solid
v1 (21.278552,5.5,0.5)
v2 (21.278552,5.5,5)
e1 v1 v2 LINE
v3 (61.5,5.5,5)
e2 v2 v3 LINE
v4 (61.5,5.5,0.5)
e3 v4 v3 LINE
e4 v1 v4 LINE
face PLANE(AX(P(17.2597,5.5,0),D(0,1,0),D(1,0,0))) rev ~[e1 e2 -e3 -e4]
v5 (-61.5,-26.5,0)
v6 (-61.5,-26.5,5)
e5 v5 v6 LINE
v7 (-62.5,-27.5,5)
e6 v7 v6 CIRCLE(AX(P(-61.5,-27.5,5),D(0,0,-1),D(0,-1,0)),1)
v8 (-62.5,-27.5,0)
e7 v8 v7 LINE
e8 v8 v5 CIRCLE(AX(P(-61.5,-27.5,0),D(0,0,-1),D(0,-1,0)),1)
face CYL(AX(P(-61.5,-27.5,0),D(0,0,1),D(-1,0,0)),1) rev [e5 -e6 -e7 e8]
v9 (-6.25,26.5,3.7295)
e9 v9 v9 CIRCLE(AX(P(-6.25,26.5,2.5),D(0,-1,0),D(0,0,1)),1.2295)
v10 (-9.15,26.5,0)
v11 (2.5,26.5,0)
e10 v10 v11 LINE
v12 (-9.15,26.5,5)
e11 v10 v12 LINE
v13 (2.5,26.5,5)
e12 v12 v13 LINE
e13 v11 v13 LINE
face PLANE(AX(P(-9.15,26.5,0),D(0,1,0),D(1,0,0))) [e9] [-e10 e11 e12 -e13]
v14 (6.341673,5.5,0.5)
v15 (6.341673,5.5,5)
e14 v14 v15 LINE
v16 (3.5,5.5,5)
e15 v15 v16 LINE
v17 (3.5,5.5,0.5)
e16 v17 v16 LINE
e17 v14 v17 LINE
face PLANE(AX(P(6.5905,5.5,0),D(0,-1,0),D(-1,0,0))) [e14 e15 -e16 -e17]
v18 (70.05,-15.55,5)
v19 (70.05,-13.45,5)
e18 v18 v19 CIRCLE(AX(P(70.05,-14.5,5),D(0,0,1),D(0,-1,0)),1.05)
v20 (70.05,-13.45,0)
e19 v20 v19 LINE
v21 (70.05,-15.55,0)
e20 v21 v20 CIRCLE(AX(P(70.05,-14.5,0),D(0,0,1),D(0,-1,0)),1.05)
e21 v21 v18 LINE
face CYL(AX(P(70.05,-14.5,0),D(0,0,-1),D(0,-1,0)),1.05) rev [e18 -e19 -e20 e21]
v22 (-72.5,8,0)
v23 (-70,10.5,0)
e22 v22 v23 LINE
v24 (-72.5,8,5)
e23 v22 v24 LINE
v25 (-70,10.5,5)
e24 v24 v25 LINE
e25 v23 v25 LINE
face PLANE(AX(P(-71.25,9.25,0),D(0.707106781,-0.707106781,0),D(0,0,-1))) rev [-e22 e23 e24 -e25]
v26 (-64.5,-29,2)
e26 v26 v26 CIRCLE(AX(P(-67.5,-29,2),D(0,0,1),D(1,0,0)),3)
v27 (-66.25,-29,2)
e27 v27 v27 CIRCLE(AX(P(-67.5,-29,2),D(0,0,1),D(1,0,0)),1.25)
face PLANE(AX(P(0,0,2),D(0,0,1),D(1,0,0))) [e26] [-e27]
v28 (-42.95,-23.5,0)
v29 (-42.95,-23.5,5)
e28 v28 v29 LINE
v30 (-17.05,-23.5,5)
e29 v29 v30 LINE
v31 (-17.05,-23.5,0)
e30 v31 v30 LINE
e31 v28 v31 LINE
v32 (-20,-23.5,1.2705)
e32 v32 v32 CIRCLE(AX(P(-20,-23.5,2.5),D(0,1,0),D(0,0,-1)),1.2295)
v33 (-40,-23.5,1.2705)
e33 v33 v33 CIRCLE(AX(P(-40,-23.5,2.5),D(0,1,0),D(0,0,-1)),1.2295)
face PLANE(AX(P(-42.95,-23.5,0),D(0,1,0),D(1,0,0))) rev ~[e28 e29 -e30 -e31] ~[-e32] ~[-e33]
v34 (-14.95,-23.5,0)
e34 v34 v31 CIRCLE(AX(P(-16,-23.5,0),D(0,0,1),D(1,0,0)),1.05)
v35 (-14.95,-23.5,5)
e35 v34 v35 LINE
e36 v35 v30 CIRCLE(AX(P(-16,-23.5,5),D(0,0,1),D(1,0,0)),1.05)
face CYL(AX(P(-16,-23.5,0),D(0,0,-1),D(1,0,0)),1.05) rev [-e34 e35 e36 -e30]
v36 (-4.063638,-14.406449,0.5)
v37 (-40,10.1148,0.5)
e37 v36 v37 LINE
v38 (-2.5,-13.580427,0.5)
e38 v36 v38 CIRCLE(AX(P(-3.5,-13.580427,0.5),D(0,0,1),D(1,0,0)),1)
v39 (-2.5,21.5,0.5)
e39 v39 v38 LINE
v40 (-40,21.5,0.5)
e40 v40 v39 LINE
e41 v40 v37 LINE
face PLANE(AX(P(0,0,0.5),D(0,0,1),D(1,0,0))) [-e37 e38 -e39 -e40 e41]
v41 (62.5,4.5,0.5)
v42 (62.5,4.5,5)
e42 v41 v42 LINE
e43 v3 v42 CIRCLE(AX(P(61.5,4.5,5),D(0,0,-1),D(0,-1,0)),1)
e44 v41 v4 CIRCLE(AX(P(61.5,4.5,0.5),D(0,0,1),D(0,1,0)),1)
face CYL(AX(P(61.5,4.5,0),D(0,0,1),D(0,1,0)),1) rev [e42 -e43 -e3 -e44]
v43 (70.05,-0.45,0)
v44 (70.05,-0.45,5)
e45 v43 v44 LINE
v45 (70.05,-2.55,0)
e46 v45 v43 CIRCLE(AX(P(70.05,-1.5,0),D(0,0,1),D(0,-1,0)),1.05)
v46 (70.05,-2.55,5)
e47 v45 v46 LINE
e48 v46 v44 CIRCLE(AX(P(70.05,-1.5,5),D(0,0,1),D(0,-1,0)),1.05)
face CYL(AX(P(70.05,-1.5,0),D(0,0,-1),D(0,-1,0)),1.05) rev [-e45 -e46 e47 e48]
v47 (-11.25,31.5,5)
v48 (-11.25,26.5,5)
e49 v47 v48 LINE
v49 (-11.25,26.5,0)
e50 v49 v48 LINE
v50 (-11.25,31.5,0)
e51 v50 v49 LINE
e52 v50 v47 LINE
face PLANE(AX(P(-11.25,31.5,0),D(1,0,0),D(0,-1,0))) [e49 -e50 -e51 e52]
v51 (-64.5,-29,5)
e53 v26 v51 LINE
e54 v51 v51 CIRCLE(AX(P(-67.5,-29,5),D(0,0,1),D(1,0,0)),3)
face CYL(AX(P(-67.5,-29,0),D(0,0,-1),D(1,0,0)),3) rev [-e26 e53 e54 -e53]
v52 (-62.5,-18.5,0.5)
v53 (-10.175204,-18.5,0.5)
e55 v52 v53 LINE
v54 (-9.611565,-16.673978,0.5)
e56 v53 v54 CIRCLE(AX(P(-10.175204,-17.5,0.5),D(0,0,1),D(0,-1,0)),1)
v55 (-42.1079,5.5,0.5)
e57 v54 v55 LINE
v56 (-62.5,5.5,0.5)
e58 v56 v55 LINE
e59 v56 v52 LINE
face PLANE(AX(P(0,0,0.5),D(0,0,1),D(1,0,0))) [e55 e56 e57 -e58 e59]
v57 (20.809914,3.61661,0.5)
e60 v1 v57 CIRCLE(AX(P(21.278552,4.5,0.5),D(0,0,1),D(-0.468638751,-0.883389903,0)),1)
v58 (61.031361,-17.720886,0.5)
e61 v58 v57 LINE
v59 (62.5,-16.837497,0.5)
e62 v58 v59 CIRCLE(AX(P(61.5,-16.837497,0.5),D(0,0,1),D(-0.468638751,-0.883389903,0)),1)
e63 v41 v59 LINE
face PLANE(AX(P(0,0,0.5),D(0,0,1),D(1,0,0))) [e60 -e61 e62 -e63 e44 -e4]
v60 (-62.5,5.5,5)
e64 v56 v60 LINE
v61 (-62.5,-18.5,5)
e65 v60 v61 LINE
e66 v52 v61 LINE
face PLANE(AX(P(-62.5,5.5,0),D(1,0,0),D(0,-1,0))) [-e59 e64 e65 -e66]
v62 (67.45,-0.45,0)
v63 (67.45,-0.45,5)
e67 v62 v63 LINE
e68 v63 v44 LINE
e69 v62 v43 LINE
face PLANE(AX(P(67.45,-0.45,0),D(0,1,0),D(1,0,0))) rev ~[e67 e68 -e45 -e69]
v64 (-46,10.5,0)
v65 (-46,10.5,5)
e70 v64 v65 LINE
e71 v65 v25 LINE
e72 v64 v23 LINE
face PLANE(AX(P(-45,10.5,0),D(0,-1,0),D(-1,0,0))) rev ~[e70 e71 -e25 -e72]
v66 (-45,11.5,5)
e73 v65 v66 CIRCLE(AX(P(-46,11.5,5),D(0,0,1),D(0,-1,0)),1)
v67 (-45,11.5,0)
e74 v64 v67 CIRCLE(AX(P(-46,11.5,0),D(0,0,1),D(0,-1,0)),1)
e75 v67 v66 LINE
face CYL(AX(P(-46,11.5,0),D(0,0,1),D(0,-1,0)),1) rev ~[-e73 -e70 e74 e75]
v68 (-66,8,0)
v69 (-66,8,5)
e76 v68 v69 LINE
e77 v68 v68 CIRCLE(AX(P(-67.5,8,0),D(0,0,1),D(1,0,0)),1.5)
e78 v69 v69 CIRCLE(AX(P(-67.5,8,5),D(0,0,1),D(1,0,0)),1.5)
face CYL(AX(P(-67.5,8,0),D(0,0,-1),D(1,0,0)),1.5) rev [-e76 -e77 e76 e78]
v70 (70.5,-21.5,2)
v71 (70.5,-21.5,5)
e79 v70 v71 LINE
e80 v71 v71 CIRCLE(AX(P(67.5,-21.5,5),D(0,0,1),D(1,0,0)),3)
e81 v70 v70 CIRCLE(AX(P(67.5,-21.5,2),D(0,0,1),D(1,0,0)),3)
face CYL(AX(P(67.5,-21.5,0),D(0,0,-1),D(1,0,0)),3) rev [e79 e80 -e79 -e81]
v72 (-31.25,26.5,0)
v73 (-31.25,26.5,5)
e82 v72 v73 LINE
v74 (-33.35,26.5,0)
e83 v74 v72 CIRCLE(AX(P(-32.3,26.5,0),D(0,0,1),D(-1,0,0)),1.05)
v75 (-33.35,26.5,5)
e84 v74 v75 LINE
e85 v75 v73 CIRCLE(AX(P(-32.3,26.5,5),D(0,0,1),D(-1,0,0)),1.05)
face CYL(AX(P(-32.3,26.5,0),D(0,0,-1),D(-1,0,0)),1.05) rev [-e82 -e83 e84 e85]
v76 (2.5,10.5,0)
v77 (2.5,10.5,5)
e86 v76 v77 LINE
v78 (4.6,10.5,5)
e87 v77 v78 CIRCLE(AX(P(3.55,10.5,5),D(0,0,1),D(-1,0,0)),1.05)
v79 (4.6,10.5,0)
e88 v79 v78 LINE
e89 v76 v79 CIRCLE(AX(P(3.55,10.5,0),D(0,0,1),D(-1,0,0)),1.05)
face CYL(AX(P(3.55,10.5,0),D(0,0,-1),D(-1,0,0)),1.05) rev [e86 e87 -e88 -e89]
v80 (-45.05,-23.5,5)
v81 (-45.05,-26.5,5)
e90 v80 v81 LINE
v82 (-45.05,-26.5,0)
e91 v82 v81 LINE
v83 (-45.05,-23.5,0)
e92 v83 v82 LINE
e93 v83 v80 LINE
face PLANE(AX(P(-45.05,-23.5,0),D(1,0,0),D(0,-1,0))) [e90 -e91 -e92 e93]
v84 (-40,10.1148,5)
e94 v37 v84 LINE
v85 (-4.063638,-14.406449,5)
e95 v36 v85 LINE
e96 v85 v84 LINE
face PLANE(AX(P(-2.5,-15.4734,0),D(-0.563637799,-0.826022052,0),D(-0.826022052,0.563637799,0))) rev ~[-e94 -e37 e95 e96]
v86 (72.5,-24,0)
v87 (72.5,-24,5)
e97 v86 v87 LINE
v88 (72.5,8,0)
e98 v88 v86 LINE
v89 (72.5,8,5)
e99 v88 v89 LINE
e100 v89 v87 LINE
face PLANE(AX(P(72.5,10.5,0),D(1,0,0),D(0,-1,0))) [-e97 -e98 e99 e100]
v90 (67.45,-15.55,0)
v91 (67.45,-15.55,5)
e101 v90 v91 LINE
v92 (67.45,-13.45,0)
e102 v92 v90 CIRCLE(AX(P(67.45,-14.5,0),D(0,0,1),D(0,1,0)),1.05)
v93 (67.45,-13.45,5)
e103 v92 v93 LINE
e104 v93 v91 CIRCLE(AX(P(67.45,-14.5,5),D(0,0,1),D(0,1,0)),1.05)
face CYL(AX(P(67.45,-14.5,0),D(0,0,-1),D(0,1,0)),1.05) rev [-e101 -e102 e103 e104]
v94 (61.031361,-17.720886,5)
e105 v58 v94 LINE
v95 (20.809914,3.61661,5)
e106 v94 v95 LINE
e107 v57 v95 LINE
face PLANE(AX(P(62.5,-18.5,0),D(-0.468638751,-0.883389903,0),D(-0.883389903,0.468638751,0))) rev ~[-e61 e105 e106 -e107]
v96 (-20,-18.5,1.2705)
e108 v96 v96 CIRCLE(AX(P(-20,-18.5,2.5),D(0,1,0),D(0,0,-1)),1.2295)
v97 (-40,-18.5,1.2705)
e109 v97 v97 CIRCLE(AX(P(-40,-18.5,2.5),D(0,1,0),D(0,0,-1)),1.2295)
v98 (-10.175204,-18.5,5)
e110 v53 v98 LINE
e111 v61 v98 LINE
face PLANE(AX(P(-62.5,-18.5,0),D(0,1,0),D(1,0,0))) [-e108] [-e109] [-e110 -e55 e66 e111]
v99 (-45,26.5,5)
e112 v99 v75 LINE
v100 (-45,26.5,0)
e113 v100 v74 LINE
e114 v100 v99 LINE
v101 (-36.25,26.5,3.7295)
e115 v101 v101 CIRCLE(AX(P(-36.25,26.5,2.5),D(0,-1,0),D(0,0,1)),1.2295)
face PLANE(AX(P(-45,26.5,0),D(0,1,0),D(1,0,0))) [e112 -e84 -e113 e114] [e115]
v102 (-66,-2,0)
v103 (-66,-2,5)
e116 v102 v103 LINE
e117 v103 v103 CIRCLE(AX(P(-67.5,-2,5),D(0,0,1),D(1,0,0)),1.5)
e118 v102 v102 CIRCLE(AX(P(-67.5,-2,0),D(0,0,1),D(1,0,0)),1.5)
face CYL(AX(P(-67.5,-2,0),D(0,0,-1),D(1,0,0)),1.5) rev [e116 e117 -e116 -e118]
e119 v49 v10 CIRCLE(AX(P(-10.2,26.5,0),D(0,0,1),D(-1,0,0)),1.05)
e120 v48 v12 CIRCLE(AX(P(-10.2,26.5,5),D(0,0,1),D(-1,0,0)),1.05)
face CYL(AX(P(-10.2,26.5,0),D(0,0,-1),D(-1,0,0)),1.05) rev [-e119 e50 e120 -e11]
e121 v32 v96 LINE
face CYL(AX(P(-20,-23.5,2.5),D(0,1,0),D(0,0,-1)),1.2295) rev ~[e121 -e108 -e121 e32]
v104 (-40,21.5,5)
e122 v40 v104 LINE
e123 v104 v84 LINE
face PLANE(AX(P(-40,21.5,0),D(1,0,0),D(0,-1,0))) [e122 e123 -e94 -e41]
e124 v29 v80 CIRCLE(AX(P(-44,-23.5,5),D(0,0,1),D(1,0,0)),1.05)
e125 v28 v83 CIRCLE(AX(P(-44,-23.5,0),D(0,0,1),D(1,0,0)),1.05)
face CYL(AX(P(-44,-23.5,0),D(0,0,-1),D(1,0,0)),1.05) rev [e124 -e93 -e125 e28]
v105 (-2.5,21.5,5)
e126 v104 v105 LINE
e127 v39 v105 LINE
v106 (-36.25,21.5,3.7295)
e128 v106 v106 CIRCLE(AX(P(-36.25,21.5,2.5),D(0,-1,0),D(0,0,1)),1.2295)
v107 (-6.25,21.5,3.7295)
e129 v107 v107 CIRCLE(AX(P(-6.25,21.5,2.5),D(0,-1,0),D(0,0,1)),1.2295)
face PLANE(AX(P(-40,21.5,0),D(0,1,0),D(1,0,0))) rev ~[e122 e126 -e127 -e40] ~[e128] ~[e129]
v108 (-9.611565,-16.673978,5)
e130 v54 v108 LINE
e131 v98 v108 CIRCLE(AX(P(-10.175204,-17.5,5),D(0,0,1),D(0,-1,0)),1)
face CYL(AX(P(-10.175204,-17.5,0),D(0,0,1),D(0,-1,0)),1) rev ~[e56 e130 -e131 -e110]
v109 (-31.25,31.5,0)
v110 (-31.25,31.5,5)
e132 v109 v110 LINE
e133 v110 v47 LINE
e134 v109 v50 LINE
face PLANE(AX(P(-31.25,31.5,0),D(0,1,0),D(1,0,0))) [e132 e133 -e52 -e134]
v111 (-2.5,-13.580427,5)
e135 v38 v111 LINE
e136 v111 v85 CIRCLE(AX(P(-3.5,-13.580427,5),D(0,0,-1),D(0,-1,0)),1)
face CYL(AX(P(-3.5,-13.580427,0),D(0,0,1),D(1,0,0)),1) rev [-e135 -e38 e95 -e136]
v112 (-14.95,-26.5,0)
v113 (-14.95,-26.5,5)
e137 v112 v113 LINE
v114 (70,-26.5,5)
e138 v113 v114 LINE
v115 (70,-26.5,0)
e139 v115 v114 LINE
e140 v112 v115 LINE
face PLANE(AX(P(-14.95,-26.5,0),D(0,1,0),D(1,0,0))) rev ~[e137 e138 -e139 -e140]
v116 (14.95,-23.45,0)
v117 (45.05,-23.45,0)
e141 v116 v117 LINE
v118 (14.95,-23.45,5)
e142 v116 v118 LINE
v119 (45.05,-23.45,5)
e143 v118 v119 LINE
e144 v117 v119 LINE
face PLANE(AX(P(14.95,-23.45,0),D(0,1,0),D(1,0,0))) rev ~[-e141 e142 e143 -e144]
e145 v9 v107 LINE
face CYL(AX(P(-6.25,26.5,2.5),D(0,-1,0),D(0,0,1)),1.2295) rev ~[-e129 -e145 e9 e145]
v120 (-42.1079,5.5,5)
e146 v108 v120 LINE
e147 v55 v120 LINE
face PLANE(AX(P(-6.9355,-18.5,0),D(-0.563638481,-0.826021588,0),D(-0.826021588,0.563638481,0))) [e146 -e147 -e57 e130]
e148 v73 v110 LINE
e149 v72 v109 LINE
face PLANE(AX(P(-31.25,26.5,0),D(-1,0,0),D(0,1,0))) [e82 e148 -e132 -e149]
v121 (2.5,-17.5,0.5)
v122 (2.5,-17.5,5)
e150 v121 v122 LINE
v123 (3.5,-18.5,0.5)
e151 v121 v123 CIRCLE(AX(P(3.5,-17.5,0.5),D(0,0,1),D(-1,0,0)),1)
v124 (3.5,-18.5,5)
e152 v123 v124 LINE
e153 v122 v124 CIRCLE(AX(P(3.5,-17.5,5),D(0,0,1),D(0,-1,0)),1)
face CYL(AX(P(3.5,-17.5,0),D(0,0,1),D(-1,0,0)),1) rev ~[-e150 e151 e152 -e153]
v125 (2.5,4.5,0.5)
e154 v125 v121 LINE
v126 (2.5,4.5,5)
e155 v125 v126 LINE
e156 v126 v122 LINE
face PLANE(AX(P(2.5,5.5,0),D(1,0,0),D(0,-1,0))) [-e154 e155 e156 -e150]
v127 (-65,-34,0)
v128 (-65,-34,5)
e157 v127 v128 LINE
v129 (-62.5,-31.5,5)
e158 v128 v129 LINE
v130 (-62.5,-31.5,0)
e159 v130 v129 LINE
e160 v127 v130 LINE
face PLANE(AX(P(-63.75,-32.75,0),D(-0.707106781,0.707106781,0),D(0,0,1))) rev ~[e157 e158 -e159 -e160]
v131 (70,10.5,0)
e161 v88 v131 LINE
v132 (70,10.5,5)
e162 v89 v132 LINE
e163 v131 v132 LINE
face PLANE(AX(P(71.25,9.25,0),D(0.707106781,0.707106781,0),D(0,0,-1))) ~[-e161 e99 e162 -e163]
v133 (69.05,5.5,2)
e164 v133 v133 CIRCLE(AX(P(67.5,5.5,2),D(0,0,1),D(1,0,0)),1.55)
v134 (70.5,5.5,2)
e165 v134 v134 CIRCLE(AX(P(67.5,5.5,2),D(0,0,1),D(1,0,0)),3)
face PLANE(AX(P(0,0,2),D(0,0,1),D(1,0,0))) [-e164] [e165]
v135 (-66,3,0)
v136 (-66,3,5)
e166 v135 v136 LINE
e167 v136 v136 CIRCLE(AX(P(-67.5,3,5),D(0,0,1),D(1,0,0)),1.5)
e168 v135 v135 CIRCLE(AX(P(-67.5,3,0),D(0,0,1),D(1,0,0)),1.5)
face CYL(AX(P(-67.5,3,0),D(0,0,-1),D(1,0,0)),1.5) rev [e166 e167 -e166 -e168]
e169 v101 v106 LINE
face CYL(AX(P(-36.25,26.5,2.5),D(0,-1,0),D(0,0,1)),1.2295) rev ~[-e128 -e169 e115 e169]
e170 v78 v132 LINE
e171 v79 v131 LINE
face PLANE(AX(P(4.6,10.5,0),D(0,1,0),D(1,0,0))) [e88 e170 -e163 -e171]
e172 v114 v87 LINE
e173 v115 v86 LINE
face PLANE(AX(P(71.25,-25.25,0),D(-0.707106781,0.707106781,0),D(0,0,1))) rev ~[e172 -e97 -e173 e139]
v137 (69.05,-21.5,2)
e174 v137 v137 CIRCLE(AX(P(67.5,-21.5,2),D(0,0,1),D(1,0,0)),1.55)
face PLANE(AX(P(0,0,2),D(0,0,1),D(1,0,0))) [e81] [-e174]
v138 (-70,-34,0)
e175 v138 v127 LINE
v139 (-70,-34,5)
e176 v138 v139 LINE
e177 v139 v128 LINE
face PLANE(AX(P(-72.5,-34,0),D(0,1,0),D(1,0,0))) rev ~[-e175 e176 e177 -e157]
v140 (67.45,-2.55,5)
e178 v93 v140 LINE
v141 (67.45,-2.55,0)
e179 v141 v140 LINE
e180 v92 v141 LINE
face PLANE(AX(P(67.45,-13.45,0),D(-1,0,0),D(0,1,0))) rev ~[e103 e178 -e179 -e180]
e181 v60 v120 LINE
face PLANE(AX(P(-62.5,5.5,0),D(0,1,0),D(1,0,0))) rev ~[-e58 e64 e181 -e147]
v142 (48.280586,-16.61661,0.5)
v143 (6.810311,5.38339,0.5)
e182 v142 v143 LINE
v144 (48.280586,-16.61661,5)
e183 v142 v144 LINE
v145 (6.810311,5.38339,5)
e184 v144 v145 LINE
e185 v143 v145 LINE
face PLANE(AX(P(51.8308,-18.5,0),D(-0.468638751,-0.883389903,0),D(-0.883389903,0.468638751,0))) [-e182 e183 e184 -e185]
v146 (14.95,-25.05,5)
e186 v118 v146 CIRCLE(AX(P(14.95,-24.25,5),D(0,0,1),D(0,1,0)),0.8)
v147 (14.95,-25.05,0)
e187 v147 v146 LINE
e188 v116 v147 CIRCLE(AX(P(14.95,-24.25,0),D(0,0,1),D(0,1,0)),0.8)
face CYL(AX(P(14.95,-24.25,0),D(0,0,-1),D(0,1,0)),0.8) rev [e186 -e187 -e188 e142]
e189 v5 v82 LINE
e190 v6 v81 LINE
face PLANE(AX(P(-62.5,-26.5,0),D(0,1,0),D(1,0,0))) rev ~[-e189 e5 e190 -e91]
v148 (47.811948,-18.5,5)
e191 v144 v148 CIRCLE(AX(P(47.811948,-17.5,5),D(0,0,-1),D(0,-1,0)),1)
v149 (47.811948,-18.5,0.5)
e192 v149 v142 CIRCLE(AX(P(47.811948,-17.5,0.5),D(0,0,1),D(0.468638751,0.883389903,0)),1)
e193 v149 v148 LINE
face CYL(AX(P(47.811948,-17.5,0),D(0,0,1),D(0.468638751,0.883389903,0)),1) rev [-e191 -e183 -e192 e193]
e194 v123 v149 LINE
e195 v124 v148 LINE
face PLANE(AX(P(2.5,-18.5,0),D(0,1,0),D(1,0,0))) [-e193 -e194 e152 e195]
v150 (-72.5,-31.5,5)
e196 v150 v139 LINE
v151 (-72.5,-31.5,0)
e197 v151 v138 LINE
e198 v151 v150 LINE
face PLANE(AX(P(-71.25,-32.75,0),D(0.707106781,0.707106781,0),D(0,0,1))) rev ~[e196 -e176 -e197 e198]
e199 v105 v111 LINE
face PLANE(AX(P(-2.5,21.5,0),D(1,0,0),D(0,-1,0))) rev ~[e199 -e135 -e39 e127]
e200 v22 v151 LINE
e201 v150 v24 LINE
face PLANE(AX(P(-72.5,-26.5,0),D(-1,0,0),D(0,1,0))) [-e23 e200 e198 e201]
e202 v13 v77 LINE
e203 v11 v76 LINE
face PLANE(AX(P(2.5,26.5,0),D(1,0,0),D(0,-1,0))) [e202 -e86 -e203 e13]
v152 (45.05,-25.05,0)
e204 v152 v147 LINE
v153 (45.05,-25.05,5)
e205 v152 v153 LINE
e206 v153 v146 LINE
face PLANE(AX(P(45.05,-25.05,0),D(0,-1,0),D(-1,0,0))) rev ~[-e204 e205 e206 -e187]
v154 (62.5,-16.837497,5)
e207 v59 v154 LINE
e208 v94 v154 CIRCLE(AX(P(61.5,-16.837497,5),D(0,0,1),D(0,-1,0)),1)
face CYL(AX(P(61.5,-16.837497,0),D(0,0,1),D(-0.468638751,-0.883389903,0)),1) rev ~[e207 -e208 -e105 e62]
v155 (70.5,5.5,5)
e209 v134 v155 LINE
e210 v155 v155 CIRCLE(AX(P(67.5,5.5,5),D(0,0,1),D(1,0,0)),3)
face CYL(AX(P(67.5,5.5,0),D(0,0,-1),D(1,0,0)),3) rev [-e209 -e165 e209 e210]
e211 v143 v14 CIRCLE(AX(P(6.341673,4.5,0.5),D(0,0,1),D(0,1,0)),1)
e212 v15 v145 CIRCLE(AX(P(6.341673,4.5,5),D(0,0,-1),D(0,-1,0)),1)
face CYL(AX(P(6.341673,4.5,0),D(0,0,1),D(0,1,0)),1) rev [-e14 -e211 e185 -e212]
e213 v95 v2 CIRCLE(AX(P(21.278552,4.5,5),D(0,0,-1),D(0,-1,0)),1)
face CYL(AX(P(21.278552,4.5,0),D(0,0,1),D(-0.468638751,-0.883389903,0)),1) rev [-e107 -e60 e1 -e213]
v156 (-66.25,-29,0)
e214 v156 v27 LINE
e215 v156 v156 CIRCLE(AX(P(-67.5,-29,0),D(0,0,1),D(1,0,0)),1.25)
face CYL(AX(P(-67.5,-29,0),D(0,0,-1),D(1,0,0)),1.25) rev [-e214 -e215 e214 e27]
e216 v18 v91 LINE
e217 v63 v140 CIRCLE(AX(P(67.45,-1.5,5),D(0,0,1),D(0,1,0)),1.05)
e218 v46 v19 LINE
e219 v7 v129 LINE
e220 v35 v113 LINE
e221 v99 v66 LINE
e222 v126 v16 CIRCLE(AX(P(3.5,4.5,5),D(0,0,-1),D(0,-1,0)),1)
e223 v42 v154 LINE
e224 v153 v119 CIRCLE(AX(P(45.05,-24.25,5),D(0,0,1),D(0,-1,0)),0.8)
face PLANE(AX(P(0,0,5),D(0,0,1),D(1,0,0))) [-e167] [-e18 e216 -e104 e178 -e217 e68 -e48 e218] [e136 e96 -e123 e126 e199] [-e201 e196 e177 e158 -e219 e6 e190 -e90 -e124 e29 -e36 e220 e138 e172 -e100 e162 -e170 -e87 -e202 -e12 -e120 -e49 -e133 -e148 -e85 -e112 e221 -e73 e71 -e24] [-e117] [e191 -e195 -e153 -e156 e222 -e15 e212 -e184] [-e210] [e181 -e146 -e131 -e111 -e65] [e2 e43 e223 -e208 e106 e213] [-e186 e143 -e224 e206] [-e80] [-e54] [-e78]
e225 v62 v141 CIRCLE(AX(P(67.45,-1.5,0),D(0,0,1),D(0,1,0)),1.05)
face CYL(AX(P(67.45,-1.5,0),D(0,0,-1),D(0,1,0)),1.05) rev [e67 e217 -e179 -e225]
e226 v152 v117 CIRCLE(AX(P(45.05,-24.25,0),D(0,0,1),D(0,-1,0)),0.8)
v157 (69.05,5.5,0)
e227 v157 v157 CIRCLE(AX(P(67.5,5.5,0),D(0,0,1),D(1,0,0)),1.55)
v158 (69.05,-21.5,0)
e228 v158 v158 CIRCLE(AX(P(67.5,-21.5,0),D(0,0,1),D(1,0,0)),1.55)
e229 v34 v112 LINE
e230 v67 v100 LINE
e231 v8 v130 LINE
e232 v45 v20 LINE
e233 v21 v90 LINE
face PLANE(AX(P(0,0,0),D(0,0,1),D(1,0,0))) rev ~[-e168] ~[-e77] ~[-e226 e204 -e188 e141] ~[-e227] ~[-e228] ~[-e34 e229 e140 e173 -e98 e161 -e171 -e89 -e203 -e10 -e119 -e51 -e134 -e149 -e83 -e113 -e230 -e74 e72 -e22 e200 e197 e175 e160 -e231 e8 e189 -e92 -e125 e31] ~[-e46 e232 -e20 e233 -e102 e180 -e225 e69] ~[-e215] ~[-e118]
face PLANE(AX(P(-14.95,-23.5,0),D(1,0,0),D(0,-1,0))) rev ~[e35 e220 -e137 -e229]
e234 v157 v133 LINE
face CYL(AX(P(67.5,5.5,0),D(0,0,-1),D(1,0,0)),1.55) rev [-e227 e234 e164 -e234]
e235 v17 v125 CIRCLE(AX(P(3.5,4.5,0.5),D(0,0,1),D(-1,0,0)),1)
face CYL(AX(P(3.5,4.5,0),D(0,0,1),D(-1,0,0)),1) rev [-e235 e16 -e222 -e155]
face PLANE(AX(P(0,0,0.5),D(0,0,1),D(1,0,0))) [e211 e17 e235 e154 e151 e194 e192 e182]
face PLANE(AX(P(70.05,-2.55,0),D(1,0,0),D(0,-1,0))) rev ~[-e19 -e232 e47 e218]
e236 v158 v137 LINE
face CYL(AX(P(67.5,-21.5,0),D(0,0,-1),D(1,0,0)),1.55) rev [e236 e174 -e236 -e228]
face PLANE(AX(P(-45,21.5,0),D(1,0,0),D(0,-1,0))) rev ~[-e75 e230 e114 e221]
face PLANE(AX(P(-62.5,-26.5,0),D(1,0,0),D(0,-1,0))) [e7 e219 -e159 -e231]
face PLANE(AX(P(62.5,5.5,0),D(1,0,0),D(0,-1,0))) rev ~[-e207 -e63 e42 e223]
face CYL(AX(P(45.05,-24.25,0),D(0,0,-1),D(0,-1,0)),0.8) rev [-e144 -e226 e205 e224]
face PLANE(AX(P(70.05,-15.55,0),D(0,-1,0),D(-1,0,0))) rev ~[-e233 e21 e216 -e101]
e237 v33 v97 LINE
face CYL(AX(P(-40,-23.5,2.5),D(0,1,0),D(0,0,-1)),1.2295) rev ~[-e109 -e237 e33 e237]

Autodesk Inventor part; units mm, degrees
ref_plane "YZ Plane" through (0, 0, 0) normal (1, 0, 0) x (0, 1, 0)
ref_plane "XZ Plane" through (0, 0, 0) normal (0, 1, 0) x (-1, 0, 0)
ref_plane "XY Plane" through (0, 0, 0) normal (0, 0, 1) x (1, 0, 0)
sketch "スケッチ2" plane through (-42.95, -23.5, 0) normal (0, -1, 0) x (1, 0, 0)
  line L0 (0, 0) -> (25.9, 5) construction
  line L1 (0, 5) -> (25.9, 5) projected
  line L2 (12.95, 5) -> (12.95, 0) construction
  line L3 (0, 0) -> (25.9, 0) projected
  line L4 (0, 0) -> (0, 5) projected
  line L5 (0, 2.5) -> (25.9, 2.5) construction
  line L6 (25.9, 0) -> (25.9, 5) projected
  point P0 (42.95, 0)
  point P1 (2.95, 2.5)
  point P2 (22.95, 2.5)
  dimension "d176" = 20
sketch "スケッチ1" plane through (0, 0, 0) normal (0, 0, 1) x (1, 0, 0)
  line L0 (-72.5, 26.5) -> (-45, 26.5) construction
  line L1 (72.5, 26.5) -> (72.5, 10.5) construction
  line L2 (-72.5, -26.5) -> (-72.5, 10.5)
  line L3 (-72.5, 26.5) -> (72.5, -26.5) construction
  line L4 (72.5, 26.5) -> (-72.5, -26.5) construction
  line L5 (2.5, 26.5) -> (2.5, 10.5)
  line L6 (2.5, 10.5) -> (4.6, 10.5) construction
  line L7 (2.5, 26.5) -> (72.5, 26.5) construction
  line L8 (72.5, 10.5) -> (72.5, -26.5)
  line L9 (70, 10.5) -> (70, -26) construction
  circle A0 centre (67.5, 5.5) radius 1.55
  line L10 (-31.25, 26.5) -> (-31.25, 31.5)
  line L11 (-31.25, 31.5) -> (-11.25, 31.5)
  line L12 (-11.25, 31.5) -> (-11.25, 26.5)
  line L13 (-31.25, 26.5) -> (-11.25, 26.5) construction
  line L14 (-11.25, 26.5) -> (-9.15, 26.5) construction
  arc A1 (-33.35, 26.5) -> (-31.25, 26.5) centre (-32.3, 26.5) ccw
  arc A2 (-11.25, 26.5) -> (-9.15, 26.5) centre (-10.2, 26.5) ccw
  line L15 (-33.35, 26.5) -> (-31.25, 26.5) construction
  line L16 (-9.15, 26.5) -> (2.5, 26.5)
  line L17 (-45.05, -23.5) -> (-42.95, -23.5) construction
  arc A3 (-42.95, -23.5) -> (-45.05, -23.5) centre (-44, -23.5) ccw
  arc A4 (-14.95, -23.5) -> (-17.05, -23.5) centre (-16, -23.5) ccw
  line L18 (-42.95, -23.5) -> (-17.05, -23.5)
  line L19 (-17.05, -23.5) -> (-14.95, -23.5) construction
  line L20 (15, -23.5) -> (45, -23.5) construction
  line L21 (45, -23.5) -> (45, -25) construction
  line L22 (45, -25) -> (15, -25) construction
  line L23 (15, -25) -> (15, -23.5) construction
  line L24 (15, -23.5) -> (45, -25) construction
  line L25 (45, -23.5) -> (15, -25) construction
  line L26 (14.95, -23.45) -> (45.05, -23.45)
  line L27 (45.05, -23.45) -> (45.05, -25.05) construction
  line L28 (45.05, -25.05) -> (14.95, -25.05)
  line L29 (14.95, -25.05) -> (14.95, -23.45) construction
  line L30 (14.95, -23.45) -> (45.05, -25.05) construction
  line L31 (45.05, -23.45) -> (14.95, -25.05) construction
  line L32 (-45, -23.5) -> (-45, -26.5) construction
  line L33 (-15, -23.5) -> (-15, -26.5) construction
  line L34 (72.5, -8) -> (-72.5, -8) construction
  line L35 (70, -0.5) -> (67.5, -0.5) construction
  line L36 (67.5, -0.5) -> (67.5, -15.5) construction
  line L37 (67.5, -15.5) -> (70, -15.5) construction
  line L38 (70, -15.5) -> (70, -0.5) construction
  line L39 (70, -0.5) -> (67.5, -15.5) construction
  line L40 (67.5, -0.5) -> (70, -15.5) construction
  line L41 (67.45, -0.45) -> (70.05, -0.45)
  line L42 (70.05, -0.45) -> (70.05, -2.55) construction
  line L43 (70.05, -15.55) -> (67.45, -15.55)
  line L44 (67.45, -15.55) -> (67.45, -13.45) construction
  line L45 (67.45, -0.45) -> (70.05, -15.55) construction
  line L46 (70.05, -0.45) -> (67.45, -15.55) construction
  arc A5 (67.45, -0.45) -> (67.45, -2.55) centre (67.45, -1.5) ccw
  arc A6 (70.05, -2.55) -> (70.05, -0.45) centre (70.05, -1.5) ccw
  arc A7 (67.45, -13.45) -> (67.45, -15.55) centre (67.45, -14.5) ccw
  arc A8 (70.05, -15.55) -> (70.05, -13.45) centre (70.05, -14.5) ccw
  line L47 (67.45, -2.55) -> (67.45, -0.45) construction
  line L48 (67.45, -13.45) -> (67.45, -2.55)
  line L49 (70.05, -13.45) -> (70.05, -15.55) construction
  line L50 (70.05, -2.55) -> (70.05, -13.45)
  arc A9 (14.95, -23.45) -> (14.95, -25.05) centre (14.95, -24.25) ccw
  arc A10 (45.05, -25.05) -> (45.05, -23.45) centre (45.05, -24.25) ccw
  circle A11 centre (67.5, -21.5) radius 1.55
  line L51 (-72.5, -26.5) -> (-62.5, -26.5) construction
  line L52 (-15, -26.5) -> (72.5, -26.5)
  line L53 (-45, -26.5) -> (-15, -26.5) construction
  line L54 (-70, 26) -> (-70, -26.5) construction
  line L55 (-65, 26.5) -> (-65, -26.5) construction
  arc A12 (2.5, 10.5) -> (4.6, 10.5) centre (3.55, 10.5) ccw
  line L56 (4.6, 10.5) -> (72.5, 10.5)
  circle A13 centre (67.5, 5.5) radius 3
  circle A14 centre (67.5, -21.5) radius 3
  line L57 (2.5, 5.5) -> (2.5, -18.5)
  line L58 (2.5, -18.5) -> (51.8308, -18.5)
  line L59 (51.8308, -18.5) -> (6.5905, 5.5)
  line L60 (17.2597, 5.5) -> (62.5, 5.5)
  line L61 (62.5, 5.5) -> (62.5, -18.5)
  line L62 (62.5, -18.5) -> (17.2597, 5.5)
  line L63 (-62.5, -18.5) -> (-6.9355, -18.5)
  line L64 (-6.9355, -18.5) -> (-42.1079, 5.5)
  line L65 (-2.5, 21.5) -> (-2.5, -15.4734)
  line L66 (-2.5, -15.4734) -> (-40, 10.1148)
  line L67 (2.5, 10.5) -> (2.5, -26.5) construction
  line L68 (6.5905, 5.5) -> (2.5, 5.5)
  line L69 (2.5, 10.5) -> (72.2455, -26.5) construction
  circle A15 centre (-67.5, -29) radius 1.25
  circle A16 centre (-67.5, -29) radius 3
  circle A17 centre (-67.5, -2) radius 1.5
  circle A18 centre (-67.5, 3) radius 1.5
  circle A19 centre (-67.5, 8) radius 1.5
  line L70 (-67.5, 26.5) -> (-67.5, -26.5) construction
  line L71 (-45.05, -23.5) -> (-45.05, -26.5)
  line L72 (-14.95, -23.5) -> (-14.95, -26.5)
  line L73 (-45, 26.5) -> (-45, 21.5)
  line L74 (-45, 10.5) -> (-72.5, 10.5)
  line L75 (-62.5, 5.5) -> (-42.1079, 5.5)
  line L76 (-40, 21.5) -> (-40, 10.1148)
  line L77 (-72.5, -26.5) -> (-72.5, -34)
  line L78 (-72.5, -34) -> (-62.5, -34)
  line L79 (-62.5, -26.5) -> (-62.5, -34)
  line L80 (-62.5, -26.5) -> (-45, -26.5)
  line L81 (-45, 26.5) -> (-33.35, 26.5)
  line L82 (-45, 21.5) -> (-45, 10.5)
  line L83 (-62.5, 5.5) -> (-62.5, -18.5)
  line L84 (-2.5, -18.5) -> (-45, 10.5) construction
  line L85 (-45.05, 21.5) -> (-45, 21.5)
  line L86 (-40, 21.5) -> (-2.5, 21.5)
  line L87 (-72.5, 10.5) -> (-72.5, 26.5) construction
  point P0 (0, 0)
  point P1 (30, -24.25)
  point P2 (68.75, -8)
  point P3 (-60, 14.6054)
  point P4 (-46.25, 11.0112)
  point P5 (-54.1904, 10.5)
  point P6 (-45.5266, 10.5)
  dimension "d0" = 145
  dimension "d1" = 53
  dimension "d2" = 75
  dimension "d3" = 16
  dimension "d4" = 2.5
  dimension "d5" = 3.1
  dimension "d6" = 2.5
  dimension "d7" = 5
  dimension "d12" = 20
  dimension "d14" = 5
  dimension "d15" = 1.05
  dimension "d16" = 1.05
  dimension "d17" = 70
  dimension "d55" = 1.05
  dimension "d56" = 1.05
  dimension "d74" = 37
  dimension "d107" = 30
  dimension "d108" = 1.5
  dimension "d109" = 0.05
  dimension "d110" = 0.05
  dimension "d116" = 30
  dimension "d124" = 15
  dimension "d125" = 0.05
  dimension "d126" = 0.05
  dimension "d127" = 1.05
  dimension "d128" = 1.05
  dimension "d129" = 1.05
  dimension "d130" = 1.05
  dimension "d132" = 30
  dimension "d134" = 3
  dimension "d135" = 2.5
  dimension "d146" = 5
  dimension "d147" = 20
  dimension "d152" = 1.05
  dimension "d169" = 6
  dimension "d186" = 5
  dimension "d187" = 5
  dimension "d190" = 8
  dimension "d192" = 5
  dimension "d193" = 5
  dimension "d196" = 2.5
  dimension "d200" = 2.5
  dimension "d201" = 6
  dimension "d205" = 2.5
  dimension "d206" = 3
  dimension "d207" = 3
  dimension "d208" = 3
  dimension "d209" = 2.5
  dimension "d211" = 5
  dimension "d212" = 5
  dimension "d213" = 0.05
  dimension "d214" = 0.05
  dimension "d215" = 2.5
  dimension "d216" = 5
  dimension "d217" = 2.5
  dimension "d220" = 18.5
  dimension "d222" = 16
  dimension "d225" = 13.75
  dimension "d226" = 27.5
  dimension "d227" = 5
  dimension "d228" = 5
  dimension "d233" = 7.5
  dimension "d234" = 2.5
  dimension "d235" = 2.5
extrude "押し出し1" add sketch "スケッチ1" along normal blind 5 contours L2 L74 L82 L73 L81 A1 L10 L11 L12 A2 L16 L5 A12 L56 L8 L52 L72 A4 L18 A3 L71 L80 L79 L78 L77
extrude "押し出し2" add sketch "スケッチ1" along normal blind 2 contours A13 | A14 | A16
hole "穴1" at (-40, -23.5, 2.5) at (-20, -23.5, 2.5) direction (0, 1, 0) diameter 2.459 depth 5 thread size "M3x0.5" class "6H" standard "ISO Metric profile"
chamfer "面取り1" distance 2.5 angle 45 5 edges at (72.5, -26.5, 2.5) (72.5, 10.5, 2.5) (-72.5, -34, 2.5) (-72.5, 10.5, 2.5) (-62.5, -34, 2.5)
fillet "フィレット2" radius 1 11 edges at (-6.9355, -18.5, 2.5) (-2.5, -15.4734, 2.5) (2.5, -18.5, 2.5) (2.5, 5.5, 2.5) (6.5905, 5.5, 2.5) (17.2597, 5.5, 2.5) (62.5, 5.5, 2.5) (62.5, -18.5, 2.5) (51.8308, -18.5, 2.5) (-45, 10.5, 2.5) (-62.5, -26.5, 2.5)
extrude "押し出し4" add sketch "スケッチ1" along normal blind 0.5 contours L68 L59 L58 L57 | L60 L61 L62 | L83 L75 L64 L63 | L65 L66 L76 L86
sketch "スケッチ9" plane through (-45, 26.5, 0) normal (0, 1, 0) x (1, 0, 0)
  line L0 (33.75, 0) -> (33.75, -5) projected
  line L1 (13.75, 0) -> (13.75, -5) projected
  line L2 (33.75, 0) -> (13.75, 0) projected
  line L3 (47.5, 0) -> (35.85, 0) projected
  point P0 (45, 0)
  point P1 (8.75, -2.5)
  point P2 (38.75, -2.5)
  dimension "d237" = 20
  dimension "d238" = 30
  dimension "d239" = 5
  dimension "d240" = 2.5
  dimension "d241" = 2.5
hole "穴6" at (-36.25, 26.5, 2.5) at (-6.25, 26.5, 2.5) direction (0, -1, 0) diameter 2.459 depth 5 thread size "M3x0.5" class "6H" standard "ISO Metric profile"
equation "\"d16\" = d15"
equation "\"d55\" = d54"
equation "\"d56\" = d55"
equation "\"d53\" = d15"
equation "\"d54\" = d53"
properties part number "Cockpit_battery_side_frame" material "アセタール樹脂、黒"
